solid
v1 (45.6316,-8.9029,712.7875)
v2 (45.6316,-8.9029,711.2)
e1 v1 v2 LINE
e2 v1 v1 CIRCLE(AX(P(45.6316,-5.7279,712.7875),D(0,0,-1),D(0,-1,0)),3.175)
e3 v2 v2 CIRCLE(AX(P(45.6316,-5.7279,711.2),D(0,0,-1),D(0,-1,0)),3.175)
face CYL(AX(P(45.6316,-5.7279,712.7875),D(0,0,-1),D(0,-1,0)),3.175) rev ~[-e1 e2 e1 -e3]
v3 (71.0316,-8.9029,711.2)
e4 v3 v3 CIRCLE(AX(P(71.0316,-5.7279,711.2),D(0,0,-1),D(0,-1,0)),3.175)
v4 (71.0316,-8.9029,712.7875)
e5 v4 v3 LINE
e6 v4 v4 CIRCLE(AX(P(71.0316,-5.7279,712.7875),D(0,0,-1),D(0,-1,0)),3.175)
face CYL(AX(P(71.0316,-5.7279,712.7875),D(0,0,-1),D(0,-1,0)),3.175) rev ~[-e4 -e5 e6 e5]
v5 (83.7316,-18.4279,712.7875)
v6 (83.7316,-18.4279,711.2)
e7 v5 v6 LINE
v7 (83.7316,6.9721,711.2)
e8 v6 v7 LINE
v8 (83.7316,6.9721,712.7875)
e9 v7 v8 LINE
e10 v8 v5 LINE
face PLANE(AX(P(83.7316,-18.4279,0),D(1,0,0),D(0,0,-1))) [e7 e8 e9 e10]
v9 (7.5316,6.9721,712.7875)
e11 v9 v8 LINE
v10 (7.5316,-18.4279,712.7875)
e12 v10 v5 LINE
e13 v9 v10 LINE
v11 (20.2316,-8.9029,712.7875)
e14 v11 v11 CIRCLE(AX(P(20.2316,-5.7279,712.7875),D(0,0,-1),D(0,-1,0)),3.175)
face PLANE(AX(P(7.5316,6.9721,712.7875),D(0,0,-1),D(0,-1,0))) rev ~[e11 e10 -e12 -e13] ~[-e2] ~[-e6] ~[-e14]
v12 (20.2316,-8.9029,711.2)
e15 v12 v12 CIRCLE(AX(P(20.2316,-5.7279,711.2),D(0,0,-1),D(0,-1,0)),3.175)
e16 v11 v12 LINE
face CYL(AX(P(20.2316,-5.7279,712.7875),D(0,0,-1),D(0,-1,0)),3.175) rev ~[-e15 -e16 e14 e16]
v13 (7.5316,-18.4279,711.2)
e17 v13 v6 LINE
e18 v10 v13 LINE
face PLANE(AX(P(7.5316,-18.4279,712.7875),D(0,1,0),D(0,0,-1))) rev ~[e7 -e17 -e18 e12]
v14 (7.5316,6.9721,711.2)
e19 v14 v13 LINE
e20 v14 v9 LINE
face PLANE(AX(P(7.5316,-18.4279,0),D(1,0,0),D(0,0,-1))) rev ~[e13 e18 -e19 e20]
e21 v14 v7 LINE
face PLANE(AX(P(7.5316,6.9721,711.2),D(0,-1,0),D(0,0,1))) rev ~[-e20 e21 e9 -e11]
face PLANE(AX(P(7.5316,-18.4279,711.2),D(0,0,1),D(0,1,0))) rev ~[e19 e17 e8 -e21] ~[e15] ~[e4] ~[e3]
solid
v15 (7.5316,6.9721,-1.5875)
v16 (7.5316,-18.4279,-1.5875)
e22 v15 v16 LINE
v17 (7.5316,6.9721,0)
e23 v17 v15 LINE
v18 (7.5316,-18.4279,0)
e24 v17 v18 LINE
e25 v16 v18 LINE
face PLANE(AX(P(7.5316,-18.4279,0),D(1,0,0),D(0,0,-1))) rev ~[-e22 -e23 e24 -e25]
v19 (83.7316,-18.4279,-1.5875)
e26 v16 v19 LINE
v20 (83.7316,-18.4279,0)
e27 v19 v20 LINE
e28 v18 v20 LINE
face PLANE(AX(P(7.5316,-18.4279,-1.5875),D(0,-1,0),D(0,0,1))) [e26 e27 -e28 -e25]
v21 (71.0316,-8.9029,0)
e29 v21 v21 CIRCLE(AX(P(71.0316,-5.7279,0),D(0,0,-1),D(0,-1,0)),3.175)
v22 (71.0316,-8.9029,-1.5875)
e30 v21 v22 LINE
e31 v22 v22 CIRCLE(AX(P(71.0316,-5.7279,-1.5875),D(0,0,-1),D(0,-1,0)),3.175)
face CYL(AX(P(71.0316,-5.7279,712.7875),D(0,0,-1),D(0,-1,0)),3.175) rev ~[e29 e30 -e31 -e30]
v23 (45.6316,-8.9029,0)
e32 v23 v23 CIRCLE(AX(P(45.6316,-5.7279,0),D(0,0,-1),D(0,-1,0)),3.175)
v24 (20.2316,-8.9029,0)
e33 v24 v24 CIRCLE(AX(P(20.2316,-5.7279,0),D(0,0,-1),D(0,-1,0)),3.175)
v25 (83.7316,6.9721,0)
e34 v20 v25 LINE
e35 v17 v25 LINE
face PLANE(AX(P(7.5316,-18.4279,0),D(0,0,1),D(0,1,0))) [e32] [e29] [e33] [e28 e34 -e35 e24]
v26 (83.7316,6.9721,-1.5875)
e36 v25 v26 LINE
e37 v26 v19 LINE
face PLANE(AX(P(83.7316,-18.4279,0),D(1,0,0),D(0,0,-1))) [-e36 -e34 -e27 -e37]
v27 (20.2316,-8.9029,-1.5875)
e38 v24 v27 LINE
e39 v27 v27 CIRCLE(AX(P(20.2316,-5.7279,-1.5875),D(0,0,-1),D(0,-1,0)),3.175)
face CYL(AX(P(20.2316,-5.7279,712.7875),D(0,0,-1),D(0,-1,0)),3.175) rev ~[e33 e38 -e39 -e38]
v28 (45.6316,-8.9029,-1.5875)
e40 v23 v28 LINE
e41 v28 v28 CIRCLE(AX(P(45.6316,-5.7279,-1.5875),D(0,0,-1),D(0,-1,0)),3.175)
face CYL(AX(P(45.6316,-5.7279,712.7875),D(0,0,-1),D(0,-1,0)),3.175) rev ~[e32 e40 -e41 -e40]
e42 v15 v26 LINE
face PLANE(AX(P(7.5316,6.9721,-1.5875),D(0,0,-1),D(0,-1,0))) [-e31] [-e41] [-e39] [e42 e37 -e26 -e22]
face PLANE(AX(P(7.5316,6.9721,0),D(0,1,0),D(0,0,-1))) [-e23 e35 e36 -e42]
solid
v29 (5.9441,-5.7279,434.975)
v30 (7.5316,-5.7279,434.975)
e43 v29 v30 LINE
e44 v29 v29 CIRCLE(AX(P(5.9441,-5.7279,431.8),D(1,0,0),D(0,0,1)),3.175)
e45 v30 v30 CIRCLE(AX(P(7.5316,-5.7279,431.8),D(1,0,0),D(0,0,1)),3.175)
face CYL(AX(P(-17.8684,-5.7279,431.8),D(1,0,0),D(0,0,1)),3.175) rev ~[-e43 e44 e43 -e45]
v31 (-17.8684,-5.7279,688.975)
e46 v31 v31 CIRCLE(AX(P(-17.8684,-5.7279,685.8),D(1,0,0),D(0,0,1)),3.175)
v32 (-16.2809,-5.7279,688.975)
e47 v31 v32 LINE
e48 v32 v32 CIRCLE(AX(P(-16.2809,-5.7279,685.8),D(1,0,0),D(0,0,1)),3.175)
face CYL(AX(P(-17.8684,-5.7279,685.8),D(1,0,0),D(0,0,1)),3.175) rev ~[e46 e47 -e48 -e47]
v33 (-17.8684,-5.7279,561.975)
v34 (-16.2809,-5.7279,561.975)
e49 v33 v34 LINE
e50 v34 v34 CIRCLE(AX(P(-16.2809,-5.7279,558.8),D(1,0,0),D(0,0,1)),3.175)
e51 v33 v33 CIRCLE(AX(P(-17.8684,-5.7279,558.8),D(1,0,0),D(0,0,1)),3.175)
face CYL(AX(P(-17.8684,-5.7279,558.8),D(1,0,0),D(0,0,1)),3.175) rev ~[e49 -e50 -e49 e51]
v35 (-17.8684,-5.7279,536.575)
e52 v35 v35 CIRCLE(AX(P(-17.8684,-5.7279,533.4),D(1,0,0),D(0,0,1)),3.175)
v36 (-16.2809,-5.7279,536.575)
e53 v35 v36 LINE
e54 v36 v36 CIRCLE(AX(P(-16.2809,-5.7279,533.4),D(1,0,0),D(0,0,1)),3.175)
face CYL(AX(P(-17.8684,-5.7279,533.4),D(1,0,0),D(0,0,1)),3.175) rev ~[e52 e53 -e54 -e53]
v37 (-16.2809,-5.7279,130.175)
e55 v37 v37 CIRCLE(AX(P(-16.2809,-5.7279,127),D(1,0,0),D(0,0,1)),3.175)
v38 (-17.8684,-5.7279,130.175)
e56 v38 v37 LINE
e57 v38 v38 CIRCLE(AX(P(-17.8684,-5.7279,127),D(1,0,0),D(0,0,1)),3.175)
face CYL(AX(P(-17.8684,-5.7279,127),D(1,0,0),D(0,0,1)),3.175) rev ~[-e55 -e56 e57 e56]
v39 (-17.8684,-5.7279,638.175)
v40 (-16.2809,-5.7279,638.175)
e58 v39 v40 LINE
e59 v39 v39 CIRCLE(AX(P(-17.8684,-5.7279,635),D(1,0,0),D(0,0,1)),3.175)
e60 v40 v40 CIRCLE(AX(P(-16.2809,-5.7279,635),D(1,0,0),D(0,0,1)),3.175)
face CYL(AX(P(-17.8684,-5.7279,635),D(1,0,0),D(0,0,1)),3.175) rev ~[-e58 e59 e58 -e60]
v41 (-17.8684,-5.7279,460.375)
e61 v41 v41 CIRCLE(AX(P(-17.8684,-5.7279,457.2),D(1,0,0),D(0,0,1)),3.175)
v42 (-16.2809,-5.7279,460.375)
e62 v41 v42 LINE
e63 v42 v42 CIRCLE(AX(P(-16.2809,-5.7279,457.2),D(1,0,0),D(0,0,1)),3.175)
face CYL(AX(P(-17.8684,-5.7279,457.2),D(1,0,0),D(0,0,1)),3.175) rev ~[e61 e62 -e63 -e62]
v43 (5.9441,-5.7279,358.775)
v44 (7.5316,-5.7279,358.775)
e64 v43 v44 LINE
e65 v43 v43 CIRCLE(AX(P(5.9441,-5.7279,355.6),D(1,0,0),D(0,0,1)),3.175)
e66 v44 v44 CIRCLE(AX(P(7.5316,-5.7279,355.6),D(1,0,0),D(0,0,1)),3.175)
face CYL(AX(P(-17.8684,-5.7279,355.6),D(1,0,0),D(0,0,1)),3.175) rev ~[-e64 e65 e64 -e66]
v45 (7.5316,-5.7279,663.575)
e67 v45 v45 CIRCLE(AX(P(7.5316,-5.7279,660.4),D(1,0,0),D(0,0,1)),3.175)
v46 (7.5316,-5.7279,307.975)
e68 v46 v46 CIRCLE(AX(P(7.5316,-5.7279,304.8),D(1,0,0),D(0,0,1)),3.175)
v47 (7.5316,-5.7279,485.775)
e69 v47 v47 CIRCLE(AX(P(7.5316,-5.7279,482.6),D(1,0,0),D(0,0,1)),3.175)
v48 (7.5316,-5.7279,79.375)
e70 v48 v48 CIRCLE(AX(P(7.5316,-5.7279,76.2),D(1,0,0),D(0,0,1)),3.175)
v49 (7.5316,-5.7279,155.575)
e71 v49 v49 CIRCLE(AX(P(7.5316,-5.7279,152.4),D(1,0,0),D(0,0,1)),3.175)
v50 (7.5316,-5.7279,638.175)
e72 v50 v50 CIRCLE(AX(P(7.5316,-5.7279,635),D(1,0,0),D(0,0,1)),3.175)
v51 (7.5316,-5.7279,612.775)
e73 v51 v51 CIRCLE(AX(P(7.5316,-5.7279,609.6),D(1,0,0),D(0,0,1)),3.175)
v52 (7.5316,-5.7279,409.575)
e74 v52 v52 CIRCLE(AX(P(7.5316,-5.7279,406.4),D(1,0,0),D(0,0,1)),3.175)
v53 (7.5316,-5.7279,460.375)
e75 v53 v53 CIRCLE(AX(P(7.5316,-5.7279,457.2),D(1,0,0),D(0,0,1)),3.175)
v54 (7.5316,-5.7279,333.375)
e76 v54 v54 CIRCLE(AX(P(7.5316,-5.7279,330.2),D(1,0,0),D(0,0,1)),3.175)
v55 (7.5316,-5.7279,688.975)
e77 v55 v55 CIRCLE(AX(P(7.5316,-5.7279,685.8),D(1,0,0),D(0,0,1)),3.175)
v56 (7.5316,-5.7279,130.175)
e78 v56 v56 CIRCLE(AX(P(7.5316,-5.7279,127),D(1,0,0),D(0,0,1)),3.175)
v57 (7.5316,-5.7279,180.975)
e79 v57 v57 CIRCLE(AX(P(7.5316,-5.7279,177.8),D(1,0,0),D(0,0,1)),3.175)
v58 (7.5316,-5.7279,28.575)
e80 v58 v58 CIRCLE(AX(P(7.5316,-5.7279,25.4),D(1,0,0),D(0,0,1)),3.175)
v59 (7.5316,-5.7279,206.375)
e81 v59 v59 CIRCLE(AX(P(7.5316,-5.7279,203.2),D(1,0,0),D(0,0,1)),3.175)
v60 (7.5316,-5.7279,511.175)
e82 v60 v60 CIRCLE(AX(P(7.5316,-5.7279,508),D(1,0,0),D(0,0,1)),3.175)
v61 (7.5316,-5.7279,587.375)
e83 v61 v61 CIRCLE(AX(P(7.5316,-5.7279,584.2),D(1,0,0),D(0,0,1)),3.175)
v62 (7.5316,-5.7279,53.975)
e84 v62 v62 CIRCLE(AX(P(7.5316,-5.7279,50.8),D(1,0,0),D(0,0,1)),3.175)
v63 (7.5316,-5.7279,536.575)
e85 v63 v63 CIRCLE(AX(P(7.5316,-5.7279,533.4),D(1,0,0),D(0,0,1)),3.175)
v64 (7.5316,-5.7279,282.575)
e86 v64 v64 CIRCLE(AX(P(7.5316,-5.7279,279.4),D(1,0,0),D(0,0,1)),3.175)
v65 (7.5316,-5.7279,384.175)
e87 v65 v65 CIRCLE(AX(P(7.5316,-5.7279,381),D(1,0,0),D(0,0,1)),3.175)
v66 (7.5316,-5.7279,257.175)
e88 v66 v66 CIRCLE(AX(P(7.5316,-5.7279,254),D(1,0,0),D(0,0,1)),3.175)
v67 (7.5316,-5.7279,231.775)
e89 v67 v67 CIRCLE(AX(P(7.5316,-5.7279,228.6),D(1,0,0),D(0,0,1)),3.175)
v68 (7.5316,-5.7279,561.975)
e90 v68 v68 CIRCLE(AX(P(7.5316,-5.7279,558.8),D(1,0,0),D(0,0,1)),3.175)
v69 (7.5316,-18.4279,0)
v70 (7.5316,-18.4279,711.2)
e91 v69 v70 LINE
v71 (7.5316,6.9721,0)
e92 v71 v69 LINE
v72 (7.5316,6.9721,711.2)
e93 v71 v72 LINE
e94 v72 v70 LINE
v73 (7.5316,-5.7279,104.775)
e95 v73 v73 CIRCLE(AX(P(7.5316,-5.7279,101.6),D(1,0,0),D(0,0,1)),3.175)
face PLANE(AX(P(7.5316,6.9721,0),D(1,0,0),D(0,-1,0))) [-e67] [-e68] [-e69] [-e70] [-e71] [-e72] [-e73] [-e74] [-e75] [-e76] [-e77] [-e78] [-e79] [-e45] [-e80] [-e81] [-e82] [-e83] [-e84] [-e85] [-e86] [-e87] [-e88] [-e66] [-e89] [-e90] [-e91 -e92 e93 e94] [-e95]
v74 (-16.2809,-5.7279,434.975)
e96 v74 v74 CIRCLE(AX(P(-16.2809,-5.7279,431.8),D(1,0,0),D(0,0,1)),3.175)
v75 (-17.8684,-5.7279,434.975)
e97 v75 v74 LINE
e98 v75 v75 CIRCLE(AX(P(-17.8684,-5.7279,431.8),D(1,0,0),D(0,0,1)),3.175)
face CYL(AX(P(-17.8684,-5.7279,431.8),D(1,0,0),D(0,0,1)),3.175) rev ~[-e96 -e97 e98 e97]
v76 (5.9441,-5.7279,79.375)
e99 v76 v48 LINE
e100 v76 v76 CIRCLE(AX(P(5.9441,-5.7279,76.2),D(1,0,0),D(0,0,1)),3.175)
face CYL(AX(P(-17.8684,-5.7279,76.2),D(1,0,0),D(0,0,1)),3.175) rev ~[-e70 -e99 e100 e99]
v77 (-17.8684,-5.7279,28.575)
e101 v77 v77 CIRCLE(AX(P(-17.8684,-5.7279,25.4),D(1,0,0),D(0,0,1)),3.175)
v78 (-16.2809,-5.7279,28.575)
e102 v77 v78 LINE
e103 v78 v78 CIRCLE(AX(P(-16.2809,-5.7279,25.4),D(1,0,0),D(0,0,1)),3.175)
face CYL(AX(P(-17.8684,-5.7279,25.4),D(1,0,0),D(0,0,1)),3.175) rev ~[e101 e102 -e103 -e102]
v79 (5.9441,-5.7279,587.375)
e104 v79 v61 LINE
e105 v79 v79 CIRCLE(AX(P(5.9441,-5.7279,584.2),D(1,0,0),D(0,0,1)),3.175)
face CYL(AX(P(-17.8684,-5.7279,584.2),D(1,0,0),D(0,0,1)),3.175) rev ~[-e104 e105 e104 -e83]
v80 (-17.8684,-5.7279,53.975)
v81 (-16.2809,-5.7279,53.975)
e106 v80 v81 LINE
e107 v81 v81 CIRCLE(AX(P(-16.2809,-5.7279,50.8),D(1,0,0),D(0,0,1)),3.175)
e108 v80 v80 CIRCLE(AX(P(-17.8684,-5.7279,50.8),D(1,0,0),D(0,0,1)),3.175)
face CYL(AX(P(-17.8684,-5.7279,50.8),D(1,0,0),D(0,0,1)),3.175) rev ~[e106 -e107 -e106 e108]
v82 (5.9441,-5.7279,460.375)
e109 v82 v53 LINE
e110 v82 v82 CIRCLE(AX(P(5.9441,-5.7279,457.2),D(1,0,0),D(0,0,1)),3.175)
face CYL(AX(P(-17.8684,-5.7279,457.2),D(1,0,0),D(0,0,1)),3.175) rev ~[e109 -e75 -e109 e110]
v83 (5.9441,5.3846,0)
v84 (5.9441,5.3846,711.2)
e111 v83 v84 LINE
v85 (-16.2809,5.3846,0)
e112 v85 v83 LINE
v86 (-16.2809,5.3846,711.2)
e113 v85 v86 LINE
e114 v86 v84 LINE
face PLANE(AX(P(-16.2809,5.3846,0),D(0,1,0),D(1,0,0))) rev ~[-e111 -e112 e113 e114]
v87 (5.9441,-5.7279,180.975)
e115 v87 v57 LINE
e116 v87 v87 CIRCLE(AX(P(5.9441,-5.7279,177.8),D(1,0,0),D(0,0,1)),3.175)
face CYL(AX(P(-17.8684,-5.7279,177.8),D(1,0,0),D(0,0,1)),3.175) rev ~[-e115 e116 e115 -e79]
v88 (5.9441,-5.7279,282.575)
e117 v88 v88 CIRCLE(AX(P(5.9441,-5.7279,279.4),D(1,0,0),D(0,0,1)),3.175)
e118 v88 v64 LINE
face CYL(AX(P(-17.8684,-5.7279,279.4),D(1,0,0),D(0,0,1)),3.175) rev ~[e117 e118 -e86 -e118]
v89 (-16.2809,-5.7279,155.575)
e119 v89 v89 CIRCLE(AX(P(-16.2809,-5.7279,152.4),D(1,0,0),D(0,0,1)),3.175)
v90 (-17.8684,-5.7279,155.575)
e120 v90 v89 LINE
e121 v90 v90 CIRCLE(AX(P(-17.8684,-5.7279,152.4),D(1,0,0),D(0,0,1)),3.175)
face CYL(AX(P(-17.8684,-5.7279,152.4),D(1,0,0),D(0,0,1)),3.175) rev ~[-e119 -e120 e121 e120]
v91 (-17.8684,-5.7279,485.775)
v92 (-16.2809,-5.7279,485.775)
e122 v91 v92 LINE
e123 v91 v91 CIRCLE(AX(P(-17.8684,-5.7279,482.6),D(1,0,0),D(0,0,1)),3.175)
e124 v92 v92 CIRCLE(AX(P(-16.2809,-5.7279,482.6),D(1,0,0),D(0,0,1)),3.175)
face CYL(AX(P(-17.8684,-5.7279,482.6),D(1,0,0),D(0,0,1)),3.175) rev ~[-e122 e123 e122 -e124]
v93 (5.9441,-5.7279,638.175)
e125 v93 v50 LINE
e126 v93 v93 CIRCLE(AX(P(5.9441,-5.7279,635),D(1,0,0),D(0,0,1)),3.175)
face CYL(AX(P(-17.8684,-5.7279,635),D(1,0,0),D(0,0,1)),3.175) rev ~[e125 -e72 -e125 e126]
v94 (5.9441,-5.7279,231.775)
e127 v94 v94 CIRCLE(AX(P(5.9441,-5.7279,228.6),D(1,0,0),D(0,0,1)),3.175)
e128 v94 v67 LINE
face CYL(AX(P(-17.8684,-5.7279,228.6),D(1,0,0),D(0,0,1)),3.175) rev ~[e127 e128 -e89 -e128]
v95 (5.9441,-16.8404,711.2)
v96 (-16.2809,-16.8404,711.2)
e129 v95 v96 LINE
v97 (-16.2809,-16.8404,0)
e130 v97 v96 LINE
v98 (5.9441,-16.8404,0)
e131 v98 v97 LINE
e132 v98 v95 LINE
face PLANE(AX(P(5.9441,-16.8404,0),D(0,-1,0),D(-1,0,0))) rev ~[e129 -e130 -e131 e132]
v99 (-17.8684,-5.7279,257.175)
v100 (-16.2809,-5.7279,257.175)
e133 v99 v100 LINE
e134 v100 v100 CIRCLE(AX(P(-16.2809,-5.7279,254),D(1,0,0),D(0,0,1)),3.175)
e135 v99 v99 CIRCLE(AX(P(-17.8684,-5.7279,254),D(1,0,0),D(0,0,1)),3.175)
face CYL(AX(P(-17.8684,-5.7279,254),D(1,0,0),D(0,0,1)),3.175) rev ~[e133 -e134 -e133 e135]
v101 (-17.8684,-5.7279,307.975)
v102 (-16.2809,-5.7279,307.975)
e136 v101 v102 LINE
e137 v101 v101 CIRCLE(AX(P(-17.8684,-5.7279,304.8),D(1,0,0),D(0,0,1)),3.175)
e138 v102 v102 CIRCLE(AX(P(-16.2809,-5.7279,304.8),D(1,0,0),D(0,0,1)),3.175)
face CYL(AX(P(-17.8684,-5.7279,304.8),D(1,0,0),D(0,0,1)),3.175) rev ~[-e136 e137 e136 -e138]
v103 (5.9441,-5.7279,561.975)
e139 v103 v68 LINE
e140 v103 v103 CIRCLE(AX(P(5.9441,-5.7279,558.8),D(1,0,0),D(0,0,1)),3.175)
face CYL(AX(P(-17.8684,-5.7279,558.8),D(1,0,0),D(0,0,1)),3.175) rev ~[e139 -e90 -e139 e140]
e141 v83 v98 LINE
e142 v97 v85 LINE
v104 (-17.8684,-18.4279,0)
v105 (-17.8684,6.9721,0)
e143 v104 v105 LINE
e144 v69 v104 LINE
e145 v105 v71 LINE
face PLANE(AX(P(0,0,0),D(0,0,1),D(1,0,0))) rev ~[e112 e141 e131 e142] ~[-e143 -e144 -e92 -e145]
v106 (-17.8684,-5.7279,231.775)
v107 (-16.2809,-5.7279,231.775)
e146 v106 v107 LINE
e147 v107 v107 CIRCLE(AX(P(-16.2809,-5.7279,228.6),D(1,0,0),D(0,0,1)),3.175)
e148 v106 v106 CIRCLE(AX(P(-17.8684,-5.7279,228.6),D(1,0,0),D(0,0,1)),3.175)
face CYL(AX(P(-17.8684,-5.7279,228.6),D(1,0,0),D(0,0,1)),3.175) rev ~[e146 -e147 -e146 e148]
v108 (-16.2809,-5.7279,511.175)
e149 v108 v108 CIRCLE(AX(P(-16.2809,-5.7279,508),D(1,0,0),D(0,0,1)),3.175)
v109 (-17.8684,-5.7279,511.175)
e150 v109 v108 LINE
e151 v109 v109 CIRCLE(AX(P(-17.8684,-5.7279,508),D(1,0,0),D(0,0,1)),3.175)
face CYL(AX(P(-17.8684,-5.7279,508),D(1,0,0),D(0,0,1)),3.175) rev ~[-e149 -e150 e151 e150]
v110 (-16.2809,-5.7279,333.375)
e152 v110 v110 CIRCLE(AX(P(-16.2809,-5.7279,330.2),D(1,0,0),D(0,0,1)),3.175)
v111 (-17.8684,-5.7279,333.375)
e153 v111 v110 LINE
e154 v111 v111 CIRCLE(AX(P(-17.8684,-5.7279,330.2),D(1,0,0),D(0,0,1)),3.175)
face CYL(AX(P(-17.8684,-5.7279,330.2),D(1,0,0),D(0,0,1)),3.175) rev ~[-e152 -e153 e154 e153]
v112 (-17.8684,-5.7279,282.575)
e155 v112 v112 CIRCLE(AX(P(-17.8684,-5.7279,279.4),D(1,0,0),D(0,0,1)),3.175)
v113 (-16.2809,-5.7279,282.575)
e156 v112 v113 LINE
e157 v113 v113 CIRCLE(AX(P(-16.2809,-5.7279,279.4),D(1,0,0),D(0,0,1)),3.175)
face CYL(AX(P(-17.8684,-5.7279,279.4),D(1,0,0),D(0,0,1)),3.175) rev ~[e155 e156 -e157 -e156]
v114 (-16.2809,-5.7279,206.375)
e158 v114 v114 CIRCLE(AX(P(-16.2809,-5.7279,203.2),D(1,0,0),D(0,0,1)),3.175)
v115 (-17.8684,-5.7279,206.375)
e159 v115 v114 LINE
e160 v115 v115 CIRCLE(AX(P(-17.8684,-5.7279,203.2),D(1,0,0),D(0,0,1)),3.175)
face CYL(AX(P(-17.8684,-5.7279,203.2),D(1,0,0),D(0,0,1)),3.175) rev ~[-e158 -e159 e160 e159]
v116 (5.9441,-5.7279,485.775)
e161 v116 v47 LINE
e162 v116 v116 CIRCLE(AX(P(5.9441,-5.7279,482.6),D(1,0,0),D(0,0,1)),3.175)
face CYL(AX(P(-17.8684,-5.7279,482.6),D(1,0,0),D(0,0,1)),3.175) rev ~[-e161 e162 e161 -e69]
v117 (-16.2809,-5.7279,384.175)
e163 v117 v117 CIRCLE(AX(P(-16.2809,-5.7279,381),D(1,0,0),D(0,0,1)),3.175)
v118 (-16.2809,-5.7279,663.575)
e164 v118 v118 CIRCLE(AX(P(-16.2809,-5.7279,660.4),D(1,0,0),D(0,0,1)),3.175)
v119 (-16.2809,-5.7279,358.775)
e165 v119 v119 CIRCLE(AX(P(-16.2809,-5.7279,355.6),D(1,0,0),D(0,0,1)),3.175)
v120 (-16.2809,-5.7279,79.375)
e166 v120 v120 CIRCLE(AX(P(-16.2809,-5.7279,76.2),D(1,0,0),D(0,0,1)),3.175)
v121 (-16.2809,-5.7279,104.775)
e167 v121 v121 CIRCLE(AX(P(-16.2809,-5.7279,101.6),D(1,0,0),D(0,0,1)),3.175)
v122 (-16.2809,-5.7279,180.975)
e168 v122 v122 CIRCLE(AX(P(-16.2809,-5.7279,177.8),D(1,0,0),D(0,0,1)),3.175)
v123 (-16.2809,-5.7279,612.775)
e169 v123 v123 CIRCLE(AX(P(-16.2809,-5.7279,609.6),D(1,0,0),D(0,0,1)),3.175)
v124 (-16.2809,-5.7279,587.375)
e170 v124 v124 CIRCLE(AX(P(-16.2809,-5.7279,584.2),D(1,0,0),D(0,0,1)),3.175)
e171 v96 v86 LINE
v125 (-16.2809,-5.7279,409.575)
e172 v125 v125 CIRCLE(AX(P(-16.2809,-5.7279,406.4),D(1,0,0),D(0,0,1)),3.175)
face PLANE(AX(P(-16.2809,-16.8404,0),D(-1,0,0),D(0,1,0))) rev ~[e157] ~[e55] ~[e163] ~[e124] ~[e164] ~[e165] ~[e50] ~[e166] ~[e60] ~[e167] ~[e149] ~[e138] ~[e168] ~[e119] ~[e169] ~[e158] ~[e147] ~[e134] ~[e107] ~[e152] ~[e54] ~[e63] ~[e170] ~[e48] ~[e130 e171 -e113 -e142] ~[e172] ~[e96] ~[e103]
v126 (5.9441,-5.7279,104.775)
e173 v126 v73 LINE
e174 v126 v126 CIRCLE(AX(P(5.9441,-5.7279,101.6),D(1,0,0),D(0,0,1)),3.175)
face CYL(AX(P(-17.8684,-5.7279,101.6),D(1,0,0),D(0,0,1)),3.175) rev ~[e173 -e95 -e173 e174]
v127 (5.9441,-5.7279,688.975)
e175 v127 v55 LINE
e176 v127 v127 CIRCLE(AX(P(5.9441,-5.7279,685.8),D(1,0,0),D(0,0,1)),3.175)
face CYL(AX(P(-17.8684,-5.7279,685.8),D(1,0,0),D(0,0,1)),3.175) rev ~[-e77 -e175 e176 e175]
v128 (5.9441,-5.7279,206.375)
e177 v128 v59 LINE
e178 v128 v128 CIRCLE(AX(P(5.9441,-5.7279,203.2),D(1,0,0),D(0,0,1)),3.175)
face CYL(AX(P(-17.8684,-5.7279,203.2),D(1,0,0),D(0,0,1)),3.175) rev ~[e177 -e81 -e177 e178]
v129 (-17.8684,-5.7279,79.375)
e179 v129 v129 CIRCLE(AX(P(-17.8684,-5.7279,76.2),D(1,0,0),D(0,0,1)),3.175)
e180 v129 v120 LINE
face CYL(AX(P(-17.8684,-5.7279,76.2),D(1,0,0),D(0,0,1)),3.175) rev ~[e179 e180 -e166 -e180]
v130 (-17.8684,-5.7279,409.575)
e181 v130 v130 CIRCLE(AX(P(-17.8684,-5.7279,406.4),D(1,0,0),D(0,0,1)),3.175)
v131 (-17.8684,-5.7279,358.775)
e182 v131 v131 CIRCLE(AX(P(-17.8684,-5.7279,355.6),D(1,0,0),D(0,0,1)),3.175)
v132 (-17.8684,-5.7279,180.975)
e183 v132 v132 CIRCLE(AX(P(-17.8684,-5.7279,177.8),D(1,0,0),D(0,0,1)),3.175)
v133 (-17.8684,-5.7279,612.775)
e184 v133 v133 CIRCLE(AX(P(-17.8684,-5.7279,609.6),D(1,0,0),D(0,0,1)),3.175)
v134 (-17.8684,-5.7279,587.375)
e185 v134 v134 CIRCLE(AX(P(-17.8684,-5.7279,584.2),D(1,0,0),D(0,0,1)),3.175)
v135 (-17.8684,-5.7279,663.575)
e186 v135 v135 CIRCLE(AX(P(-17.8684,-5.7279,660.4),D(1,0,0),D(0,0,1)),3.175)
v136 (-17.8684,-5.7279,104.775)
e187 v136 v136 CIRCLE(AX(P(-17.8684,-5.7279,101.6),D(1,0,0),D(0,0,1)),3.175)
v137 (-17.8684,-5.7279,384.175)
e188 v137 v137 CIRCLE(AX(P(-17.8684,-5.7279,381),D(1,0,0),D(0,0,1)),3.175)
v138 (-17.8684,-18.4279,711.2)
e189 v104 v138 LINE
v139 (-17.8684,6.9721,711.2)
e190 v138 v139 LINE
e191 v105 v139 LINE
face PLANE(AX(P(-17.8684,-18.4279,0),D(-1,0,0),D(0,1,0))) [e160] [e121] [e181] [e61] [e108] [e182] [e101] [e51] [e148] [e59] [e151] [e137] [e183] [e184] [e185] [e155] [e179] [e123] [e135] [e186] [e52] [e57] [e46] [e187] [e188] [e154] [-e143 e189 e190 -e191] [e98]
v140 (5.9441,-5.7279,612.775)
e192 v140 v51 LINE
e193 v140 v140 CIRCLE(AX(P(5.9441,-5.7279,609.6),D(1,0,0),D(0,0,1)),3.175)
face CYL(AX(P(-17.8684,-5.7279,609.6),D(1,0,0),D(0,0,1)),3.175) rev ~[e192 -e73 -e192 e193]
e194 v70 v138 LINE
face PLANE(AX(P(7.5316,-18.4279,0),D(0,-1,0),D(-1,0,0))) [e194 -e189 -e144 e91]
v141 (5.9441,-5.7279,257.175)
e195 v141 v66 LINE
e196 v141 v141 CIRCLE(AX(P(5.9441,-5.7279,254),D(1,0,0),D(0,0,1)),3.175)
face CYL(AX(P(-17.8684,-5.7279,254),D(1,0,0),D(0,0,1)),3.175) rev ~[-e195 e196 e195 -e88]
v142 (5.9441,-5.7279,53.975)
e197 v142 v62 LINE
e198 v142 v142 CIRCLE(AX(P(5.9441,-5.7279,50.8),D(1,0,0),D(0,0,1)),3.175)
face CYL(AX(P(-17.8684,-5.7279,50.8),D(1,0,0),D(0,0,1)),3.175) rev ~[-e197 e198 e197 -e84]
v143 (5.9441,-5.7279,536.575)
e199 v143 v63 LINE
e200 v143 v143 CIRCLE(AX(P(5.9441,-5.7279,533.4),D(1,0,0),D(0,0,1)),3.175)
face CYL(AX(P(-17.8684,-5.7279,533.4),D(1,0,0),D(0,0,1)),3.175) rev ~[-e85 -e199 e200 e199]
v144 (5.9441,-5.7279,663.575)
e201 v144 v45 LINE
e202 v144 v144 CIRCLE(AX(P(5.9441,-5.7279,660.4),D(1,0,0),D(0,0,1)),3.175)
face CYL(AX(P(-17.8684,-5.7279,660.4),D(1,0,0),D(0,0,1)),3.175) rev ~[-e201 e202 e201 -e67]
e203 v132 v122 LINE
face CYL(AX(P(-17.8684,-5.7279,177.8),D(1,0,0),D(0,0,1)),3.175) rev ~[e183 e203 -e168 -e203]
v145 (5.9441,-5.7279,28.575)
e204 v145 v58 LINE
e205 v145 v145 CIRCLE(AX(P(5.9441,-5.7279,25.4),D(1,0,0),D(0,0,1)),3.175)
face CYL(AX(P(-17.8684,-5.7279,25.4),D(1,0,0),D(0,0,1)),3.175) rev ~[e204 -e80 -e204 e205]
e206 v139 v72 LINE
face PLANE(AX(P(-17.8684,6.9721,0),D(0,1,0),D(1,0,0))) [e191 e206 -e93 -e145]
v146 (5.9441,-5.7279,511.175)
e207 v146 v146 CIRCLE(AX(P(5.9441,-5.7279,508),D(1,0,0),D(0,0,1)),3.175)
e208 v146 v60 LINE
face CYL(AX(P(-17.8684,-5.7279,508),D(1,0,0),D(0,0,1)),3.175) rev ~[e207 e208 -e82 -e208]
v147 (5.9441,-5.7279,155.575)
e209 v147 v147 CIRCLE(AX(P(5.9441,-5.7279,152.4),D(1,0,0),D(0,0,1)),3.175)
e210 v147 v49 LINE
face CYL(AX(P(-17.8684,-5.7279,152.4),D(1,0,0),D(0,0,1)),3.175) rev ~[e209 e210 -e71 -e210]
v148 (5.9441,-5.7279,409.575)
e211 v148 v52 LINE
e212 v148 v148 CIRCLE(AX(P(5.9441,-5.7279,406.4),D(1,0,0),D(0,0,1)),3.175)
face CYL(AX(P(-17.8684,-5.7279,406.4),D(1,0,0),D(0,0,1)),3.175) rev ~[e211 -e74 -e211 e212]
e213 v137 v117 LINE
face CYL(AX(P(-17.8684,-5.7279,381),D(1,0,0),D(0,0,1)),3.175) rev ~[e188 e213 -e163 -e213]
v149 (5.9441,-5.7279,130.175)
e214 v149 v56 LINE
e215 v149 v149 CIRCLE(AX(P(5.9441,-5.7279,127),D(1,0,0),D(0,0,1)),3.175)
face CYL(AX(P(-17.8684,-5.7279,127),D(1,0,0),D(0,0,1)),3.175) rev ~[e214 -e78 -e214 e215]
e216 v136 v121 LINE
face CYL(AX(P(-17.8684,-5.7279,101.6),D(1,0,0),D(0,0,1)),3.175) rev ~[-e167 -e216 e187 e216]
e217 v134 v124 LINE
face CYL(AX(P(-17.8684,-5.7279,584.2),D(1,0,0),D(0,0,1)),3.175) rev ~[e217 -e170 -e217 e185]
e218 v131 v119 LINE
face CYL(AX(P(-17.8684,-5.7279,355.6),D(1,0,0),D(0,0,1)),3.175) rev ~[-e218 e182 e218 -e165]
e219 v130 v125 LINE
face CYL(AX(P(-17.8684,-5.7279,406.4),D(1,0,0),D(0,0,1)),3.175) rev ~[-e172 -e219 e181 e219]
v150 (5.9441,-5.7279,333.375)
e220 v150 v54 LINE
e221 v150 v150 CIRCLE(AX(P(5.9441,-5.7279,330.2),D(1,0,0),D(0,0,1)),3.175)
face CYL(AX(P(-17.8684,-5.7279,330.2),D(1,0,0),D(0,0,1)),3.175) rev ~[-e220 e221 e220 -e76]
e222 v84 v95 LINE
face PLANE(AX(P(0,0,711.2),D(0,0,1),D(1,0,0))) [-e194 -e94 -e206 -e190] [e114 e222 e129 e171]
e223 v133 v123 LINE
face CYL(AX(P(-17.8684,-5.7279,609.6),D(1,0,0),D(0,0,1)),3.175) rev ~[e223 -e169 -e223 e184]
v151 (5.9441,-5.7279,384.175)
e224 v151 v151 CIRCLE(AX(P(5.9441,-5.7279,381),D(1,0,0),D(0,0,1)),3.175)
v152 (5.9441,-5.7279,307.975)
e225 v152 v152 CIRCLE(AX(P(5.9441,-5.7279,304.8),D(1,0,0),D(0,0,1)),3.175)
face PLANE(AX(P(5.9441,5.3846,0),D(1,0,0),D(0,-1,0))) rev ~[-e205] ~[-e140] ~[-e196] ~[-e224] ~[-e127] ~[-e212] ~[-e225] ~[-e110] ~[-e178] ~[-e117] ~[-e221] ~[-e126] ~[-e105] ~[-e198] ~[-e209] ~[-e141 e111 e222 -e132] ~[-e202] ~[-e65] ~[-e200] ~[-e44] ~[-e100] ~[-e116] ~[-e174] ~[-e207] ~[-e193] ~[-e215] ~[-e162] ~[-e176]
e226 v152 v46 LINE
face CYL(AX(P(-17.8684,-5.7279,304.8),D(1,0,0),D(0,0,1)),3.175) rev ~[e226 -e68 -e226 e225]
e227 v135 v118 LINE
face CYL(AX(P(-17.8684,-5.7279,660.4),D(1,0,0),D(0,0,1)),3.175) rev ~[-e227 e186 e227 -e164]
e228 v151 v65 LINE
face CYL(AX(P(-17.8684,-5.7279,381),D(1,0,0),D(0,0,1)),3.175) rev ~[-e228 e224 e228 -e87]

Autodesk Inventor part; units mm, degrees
ref_plane "YZ Plane" through (0, 0, 0) normal (1, 0, 0) x (0, 1, 0)
ref_plane "XZ Plane" through (0, 0, 0) normal (0, 1, 0) x (-1, 0, 0)
ref_plane "XY Plane" through (0, 0, 0) normal (0, 0, 1) x (1, 0, 0)
sketch "Sketch1" plane through (0, 0, 0) normal (0, 0, 1) x (1, 0, 0)
  line L0 (-17.8684, 6.9721) -> (7.5316, 6.9721)
  line L1 (7.5316, 6.9721) -> (7.5316, -18.4279)
  line L2 (7.5316, -18.4279) -> (-17.8684, -18.4279)
  line L3 (-17.8684, -18.4279) -> (-17.8684, 6.9721)
  line L4 (-16.2809, 5.3846) -> (5.9441, 5.3846)
  line L5 (5.9441, 5.3846) -> (5.9441, -16.8404)
  line L6 (5.9441, -16.8404) -> (-16.2809, -16.8404)
  line L7 (-16.2809, -16.8404) -> (-16.2809, 5.3846)
  point P0 (0, 0)
  dimension "d0" = 25.4
  dimension "d1" = 25.4
  dimension "d3" = 1.5875
  dimension "d4" = 1.5875
  dimension "d5" = 1.5875
  dimension "d6" = 1.5875
extrude "Extrusion1" add sketch "Sketch1" along normal blind 711.2
sketch "Sketch2" plane through (7.5316, -18.4279, 0) normal (1, 0, 0) x (0, 0, -1)
  line L0 (0, 25.4) -> (1.5875, 25.4)
  line L1 (1.5875, 25.4) -> (1.5875, 0)
  line L2 (1.5875, 0) -> (0, 0)
  line L3 (0, 0) -> (0, 25.4)
  line L4 (-711.2, 25.4) -> (-712.7875, 25.4)
  line L5 (-712.7875, 25.4) -> (-712.7875, 0)
  line L6 (-712.7875, 0) -> (-711.2, 0)
  line L7 (-711.2, 0) -> (-711.2, 25.4)
  point P0 (0, 18.4279)
  dimension "d9" = 1.5875
  dimension "d10" = 1.5875
extrude "Extrusion2" add sketch "Sketch2" along normal blind 76.2
sketch "Sketch3" plane through (-17.8684, -18.4279, 0) normal (-1, 0, 0) x (0, 0, 1)
  line L0 (0, 25.4) -> (711.2, 25.4) projected
  line L1 (0, 0) -> (0, 25.4) projected
  line L2 (0, 0) -> (711.2, 0) projected
  point P0 (0, 18.4279)
  point P1 (25.4, 12.7)
  point P2 (50.8, 12.7)
  point P3 (76.2, 12.7)
  point P4 (101.6, 12.7)
  point P5 (127, 12.7)
  point P6 (152.4, 12.7)
  point P7 (177.8, 12.7)
  point P8 (203.2, 12.7)
  point P9 (228.6, 12.7)
  point P10 (254, 12.7)
  point P11 (279.4, 12.7)
  point P12 (304.8, 12.7)
  point P13 (330.2, 12.7)
  point P14 (355.6, 12.7)
  point P15 (381, 12.7)
  point P16 (406.4, 12.7)
  point P17 (431.8, 12.7)
  point P18 (457.2, 12.7)
  point P19 (482.6, 12.7)
  point P20 (508, 12.7)
  point P21 (533.4, 12.7)
  point P22 (558.8, 12.7)
  point P23 (584.2, 12.7)
  point P24 (609.6, 12.7)
  point P25 (635, 12.7)
  point P26 (660.4, 12.7)
  point P27 (685.8, 12.7)
  dimension "d13" = 25.4
  dimension "d14" = 12.7
  dimension "d17" = 25.4
hole "Hole1" at (-17.8684, -5.7279, 25.4) at (-17.8684, -5.7279, 50.8) at (-17.8684, -5.7279, 76.2) at (-17.8684, -5.7279, 101.6) at (-17.8684, -5.7279, 127) at (-17.8684, -5.7279, 152.4) at (-17.8684, -5.7279, 177.8) at (-17.8684, -5.7279, 203.2) at (-17.8684, -5.7279, 228.6) at (-17.8684, -5.7279, 254) at (-17.8684, -5.7279, 279.4) at (-17.8684, -5.7279, 304.8) at (-17.8684, -5.7279, 330.2) at (-17.8684, -5.7279, 355.6) at (-17.8684, -5.7279, 381) at (-17.8684, -5.7279, 406.4) at (-17.8684, -5.7279, 431.8) at (-17.8684, -5.7279, 457.2) at (-17.8684, -5.7279, 482.6) at (-17.8684, -5.7279, 508) at (-17.8684, -5.7279, 533.4) at (-17.8684, -5.7279, 558.8) at (-17.8684, -5.7279, 584.2) at (-17.8684, -5.7279, 609.6) at (-17.8684, -5.7279, 635) at (-17.8684, -5.7279, 660.4) at (-17.8684, -5.7279, 685.8) direction (1, 0, 0) diameter 6.35 end through all
sketch "Sketch4" plane through (7.5316, -18.4279, 712.7875) normal (0, 0, 1) x (1, 0, 0)
  line L0 (0, 25.4) -> (76.2, 25.4) projected
  line L1 (0, 25.4) -> (0, 0) projected
  point P0 (-7.5316, 18.4279)
  point P1 (12.7, 12.7)
  point P2 (63.5, 12.7)
  point P3 (38.1, 12.7)
  dimension "d29" = 12.7
  dimension "d30" = 12.7
  dimension "d31" = 12.7
  dimension "d32" = 12.7
  dimension "d33" = 25.4
  dimension "d34" = 25.4
hole "Hole2" at (20.2316, -5.7279, 712.7875) at (71.0316, -5.7279, 712.7875) at (45.6316, -5.7279, 712.7875) direction (0, 0, -1) diameter 6.35 end through all
equation "\"d1\" = d0"
equation "\"d4\" = d3"
equation "\"d5\" = d3"
equation "\"d6\" = d3"
properties part number "Ridgidizer backbone"
